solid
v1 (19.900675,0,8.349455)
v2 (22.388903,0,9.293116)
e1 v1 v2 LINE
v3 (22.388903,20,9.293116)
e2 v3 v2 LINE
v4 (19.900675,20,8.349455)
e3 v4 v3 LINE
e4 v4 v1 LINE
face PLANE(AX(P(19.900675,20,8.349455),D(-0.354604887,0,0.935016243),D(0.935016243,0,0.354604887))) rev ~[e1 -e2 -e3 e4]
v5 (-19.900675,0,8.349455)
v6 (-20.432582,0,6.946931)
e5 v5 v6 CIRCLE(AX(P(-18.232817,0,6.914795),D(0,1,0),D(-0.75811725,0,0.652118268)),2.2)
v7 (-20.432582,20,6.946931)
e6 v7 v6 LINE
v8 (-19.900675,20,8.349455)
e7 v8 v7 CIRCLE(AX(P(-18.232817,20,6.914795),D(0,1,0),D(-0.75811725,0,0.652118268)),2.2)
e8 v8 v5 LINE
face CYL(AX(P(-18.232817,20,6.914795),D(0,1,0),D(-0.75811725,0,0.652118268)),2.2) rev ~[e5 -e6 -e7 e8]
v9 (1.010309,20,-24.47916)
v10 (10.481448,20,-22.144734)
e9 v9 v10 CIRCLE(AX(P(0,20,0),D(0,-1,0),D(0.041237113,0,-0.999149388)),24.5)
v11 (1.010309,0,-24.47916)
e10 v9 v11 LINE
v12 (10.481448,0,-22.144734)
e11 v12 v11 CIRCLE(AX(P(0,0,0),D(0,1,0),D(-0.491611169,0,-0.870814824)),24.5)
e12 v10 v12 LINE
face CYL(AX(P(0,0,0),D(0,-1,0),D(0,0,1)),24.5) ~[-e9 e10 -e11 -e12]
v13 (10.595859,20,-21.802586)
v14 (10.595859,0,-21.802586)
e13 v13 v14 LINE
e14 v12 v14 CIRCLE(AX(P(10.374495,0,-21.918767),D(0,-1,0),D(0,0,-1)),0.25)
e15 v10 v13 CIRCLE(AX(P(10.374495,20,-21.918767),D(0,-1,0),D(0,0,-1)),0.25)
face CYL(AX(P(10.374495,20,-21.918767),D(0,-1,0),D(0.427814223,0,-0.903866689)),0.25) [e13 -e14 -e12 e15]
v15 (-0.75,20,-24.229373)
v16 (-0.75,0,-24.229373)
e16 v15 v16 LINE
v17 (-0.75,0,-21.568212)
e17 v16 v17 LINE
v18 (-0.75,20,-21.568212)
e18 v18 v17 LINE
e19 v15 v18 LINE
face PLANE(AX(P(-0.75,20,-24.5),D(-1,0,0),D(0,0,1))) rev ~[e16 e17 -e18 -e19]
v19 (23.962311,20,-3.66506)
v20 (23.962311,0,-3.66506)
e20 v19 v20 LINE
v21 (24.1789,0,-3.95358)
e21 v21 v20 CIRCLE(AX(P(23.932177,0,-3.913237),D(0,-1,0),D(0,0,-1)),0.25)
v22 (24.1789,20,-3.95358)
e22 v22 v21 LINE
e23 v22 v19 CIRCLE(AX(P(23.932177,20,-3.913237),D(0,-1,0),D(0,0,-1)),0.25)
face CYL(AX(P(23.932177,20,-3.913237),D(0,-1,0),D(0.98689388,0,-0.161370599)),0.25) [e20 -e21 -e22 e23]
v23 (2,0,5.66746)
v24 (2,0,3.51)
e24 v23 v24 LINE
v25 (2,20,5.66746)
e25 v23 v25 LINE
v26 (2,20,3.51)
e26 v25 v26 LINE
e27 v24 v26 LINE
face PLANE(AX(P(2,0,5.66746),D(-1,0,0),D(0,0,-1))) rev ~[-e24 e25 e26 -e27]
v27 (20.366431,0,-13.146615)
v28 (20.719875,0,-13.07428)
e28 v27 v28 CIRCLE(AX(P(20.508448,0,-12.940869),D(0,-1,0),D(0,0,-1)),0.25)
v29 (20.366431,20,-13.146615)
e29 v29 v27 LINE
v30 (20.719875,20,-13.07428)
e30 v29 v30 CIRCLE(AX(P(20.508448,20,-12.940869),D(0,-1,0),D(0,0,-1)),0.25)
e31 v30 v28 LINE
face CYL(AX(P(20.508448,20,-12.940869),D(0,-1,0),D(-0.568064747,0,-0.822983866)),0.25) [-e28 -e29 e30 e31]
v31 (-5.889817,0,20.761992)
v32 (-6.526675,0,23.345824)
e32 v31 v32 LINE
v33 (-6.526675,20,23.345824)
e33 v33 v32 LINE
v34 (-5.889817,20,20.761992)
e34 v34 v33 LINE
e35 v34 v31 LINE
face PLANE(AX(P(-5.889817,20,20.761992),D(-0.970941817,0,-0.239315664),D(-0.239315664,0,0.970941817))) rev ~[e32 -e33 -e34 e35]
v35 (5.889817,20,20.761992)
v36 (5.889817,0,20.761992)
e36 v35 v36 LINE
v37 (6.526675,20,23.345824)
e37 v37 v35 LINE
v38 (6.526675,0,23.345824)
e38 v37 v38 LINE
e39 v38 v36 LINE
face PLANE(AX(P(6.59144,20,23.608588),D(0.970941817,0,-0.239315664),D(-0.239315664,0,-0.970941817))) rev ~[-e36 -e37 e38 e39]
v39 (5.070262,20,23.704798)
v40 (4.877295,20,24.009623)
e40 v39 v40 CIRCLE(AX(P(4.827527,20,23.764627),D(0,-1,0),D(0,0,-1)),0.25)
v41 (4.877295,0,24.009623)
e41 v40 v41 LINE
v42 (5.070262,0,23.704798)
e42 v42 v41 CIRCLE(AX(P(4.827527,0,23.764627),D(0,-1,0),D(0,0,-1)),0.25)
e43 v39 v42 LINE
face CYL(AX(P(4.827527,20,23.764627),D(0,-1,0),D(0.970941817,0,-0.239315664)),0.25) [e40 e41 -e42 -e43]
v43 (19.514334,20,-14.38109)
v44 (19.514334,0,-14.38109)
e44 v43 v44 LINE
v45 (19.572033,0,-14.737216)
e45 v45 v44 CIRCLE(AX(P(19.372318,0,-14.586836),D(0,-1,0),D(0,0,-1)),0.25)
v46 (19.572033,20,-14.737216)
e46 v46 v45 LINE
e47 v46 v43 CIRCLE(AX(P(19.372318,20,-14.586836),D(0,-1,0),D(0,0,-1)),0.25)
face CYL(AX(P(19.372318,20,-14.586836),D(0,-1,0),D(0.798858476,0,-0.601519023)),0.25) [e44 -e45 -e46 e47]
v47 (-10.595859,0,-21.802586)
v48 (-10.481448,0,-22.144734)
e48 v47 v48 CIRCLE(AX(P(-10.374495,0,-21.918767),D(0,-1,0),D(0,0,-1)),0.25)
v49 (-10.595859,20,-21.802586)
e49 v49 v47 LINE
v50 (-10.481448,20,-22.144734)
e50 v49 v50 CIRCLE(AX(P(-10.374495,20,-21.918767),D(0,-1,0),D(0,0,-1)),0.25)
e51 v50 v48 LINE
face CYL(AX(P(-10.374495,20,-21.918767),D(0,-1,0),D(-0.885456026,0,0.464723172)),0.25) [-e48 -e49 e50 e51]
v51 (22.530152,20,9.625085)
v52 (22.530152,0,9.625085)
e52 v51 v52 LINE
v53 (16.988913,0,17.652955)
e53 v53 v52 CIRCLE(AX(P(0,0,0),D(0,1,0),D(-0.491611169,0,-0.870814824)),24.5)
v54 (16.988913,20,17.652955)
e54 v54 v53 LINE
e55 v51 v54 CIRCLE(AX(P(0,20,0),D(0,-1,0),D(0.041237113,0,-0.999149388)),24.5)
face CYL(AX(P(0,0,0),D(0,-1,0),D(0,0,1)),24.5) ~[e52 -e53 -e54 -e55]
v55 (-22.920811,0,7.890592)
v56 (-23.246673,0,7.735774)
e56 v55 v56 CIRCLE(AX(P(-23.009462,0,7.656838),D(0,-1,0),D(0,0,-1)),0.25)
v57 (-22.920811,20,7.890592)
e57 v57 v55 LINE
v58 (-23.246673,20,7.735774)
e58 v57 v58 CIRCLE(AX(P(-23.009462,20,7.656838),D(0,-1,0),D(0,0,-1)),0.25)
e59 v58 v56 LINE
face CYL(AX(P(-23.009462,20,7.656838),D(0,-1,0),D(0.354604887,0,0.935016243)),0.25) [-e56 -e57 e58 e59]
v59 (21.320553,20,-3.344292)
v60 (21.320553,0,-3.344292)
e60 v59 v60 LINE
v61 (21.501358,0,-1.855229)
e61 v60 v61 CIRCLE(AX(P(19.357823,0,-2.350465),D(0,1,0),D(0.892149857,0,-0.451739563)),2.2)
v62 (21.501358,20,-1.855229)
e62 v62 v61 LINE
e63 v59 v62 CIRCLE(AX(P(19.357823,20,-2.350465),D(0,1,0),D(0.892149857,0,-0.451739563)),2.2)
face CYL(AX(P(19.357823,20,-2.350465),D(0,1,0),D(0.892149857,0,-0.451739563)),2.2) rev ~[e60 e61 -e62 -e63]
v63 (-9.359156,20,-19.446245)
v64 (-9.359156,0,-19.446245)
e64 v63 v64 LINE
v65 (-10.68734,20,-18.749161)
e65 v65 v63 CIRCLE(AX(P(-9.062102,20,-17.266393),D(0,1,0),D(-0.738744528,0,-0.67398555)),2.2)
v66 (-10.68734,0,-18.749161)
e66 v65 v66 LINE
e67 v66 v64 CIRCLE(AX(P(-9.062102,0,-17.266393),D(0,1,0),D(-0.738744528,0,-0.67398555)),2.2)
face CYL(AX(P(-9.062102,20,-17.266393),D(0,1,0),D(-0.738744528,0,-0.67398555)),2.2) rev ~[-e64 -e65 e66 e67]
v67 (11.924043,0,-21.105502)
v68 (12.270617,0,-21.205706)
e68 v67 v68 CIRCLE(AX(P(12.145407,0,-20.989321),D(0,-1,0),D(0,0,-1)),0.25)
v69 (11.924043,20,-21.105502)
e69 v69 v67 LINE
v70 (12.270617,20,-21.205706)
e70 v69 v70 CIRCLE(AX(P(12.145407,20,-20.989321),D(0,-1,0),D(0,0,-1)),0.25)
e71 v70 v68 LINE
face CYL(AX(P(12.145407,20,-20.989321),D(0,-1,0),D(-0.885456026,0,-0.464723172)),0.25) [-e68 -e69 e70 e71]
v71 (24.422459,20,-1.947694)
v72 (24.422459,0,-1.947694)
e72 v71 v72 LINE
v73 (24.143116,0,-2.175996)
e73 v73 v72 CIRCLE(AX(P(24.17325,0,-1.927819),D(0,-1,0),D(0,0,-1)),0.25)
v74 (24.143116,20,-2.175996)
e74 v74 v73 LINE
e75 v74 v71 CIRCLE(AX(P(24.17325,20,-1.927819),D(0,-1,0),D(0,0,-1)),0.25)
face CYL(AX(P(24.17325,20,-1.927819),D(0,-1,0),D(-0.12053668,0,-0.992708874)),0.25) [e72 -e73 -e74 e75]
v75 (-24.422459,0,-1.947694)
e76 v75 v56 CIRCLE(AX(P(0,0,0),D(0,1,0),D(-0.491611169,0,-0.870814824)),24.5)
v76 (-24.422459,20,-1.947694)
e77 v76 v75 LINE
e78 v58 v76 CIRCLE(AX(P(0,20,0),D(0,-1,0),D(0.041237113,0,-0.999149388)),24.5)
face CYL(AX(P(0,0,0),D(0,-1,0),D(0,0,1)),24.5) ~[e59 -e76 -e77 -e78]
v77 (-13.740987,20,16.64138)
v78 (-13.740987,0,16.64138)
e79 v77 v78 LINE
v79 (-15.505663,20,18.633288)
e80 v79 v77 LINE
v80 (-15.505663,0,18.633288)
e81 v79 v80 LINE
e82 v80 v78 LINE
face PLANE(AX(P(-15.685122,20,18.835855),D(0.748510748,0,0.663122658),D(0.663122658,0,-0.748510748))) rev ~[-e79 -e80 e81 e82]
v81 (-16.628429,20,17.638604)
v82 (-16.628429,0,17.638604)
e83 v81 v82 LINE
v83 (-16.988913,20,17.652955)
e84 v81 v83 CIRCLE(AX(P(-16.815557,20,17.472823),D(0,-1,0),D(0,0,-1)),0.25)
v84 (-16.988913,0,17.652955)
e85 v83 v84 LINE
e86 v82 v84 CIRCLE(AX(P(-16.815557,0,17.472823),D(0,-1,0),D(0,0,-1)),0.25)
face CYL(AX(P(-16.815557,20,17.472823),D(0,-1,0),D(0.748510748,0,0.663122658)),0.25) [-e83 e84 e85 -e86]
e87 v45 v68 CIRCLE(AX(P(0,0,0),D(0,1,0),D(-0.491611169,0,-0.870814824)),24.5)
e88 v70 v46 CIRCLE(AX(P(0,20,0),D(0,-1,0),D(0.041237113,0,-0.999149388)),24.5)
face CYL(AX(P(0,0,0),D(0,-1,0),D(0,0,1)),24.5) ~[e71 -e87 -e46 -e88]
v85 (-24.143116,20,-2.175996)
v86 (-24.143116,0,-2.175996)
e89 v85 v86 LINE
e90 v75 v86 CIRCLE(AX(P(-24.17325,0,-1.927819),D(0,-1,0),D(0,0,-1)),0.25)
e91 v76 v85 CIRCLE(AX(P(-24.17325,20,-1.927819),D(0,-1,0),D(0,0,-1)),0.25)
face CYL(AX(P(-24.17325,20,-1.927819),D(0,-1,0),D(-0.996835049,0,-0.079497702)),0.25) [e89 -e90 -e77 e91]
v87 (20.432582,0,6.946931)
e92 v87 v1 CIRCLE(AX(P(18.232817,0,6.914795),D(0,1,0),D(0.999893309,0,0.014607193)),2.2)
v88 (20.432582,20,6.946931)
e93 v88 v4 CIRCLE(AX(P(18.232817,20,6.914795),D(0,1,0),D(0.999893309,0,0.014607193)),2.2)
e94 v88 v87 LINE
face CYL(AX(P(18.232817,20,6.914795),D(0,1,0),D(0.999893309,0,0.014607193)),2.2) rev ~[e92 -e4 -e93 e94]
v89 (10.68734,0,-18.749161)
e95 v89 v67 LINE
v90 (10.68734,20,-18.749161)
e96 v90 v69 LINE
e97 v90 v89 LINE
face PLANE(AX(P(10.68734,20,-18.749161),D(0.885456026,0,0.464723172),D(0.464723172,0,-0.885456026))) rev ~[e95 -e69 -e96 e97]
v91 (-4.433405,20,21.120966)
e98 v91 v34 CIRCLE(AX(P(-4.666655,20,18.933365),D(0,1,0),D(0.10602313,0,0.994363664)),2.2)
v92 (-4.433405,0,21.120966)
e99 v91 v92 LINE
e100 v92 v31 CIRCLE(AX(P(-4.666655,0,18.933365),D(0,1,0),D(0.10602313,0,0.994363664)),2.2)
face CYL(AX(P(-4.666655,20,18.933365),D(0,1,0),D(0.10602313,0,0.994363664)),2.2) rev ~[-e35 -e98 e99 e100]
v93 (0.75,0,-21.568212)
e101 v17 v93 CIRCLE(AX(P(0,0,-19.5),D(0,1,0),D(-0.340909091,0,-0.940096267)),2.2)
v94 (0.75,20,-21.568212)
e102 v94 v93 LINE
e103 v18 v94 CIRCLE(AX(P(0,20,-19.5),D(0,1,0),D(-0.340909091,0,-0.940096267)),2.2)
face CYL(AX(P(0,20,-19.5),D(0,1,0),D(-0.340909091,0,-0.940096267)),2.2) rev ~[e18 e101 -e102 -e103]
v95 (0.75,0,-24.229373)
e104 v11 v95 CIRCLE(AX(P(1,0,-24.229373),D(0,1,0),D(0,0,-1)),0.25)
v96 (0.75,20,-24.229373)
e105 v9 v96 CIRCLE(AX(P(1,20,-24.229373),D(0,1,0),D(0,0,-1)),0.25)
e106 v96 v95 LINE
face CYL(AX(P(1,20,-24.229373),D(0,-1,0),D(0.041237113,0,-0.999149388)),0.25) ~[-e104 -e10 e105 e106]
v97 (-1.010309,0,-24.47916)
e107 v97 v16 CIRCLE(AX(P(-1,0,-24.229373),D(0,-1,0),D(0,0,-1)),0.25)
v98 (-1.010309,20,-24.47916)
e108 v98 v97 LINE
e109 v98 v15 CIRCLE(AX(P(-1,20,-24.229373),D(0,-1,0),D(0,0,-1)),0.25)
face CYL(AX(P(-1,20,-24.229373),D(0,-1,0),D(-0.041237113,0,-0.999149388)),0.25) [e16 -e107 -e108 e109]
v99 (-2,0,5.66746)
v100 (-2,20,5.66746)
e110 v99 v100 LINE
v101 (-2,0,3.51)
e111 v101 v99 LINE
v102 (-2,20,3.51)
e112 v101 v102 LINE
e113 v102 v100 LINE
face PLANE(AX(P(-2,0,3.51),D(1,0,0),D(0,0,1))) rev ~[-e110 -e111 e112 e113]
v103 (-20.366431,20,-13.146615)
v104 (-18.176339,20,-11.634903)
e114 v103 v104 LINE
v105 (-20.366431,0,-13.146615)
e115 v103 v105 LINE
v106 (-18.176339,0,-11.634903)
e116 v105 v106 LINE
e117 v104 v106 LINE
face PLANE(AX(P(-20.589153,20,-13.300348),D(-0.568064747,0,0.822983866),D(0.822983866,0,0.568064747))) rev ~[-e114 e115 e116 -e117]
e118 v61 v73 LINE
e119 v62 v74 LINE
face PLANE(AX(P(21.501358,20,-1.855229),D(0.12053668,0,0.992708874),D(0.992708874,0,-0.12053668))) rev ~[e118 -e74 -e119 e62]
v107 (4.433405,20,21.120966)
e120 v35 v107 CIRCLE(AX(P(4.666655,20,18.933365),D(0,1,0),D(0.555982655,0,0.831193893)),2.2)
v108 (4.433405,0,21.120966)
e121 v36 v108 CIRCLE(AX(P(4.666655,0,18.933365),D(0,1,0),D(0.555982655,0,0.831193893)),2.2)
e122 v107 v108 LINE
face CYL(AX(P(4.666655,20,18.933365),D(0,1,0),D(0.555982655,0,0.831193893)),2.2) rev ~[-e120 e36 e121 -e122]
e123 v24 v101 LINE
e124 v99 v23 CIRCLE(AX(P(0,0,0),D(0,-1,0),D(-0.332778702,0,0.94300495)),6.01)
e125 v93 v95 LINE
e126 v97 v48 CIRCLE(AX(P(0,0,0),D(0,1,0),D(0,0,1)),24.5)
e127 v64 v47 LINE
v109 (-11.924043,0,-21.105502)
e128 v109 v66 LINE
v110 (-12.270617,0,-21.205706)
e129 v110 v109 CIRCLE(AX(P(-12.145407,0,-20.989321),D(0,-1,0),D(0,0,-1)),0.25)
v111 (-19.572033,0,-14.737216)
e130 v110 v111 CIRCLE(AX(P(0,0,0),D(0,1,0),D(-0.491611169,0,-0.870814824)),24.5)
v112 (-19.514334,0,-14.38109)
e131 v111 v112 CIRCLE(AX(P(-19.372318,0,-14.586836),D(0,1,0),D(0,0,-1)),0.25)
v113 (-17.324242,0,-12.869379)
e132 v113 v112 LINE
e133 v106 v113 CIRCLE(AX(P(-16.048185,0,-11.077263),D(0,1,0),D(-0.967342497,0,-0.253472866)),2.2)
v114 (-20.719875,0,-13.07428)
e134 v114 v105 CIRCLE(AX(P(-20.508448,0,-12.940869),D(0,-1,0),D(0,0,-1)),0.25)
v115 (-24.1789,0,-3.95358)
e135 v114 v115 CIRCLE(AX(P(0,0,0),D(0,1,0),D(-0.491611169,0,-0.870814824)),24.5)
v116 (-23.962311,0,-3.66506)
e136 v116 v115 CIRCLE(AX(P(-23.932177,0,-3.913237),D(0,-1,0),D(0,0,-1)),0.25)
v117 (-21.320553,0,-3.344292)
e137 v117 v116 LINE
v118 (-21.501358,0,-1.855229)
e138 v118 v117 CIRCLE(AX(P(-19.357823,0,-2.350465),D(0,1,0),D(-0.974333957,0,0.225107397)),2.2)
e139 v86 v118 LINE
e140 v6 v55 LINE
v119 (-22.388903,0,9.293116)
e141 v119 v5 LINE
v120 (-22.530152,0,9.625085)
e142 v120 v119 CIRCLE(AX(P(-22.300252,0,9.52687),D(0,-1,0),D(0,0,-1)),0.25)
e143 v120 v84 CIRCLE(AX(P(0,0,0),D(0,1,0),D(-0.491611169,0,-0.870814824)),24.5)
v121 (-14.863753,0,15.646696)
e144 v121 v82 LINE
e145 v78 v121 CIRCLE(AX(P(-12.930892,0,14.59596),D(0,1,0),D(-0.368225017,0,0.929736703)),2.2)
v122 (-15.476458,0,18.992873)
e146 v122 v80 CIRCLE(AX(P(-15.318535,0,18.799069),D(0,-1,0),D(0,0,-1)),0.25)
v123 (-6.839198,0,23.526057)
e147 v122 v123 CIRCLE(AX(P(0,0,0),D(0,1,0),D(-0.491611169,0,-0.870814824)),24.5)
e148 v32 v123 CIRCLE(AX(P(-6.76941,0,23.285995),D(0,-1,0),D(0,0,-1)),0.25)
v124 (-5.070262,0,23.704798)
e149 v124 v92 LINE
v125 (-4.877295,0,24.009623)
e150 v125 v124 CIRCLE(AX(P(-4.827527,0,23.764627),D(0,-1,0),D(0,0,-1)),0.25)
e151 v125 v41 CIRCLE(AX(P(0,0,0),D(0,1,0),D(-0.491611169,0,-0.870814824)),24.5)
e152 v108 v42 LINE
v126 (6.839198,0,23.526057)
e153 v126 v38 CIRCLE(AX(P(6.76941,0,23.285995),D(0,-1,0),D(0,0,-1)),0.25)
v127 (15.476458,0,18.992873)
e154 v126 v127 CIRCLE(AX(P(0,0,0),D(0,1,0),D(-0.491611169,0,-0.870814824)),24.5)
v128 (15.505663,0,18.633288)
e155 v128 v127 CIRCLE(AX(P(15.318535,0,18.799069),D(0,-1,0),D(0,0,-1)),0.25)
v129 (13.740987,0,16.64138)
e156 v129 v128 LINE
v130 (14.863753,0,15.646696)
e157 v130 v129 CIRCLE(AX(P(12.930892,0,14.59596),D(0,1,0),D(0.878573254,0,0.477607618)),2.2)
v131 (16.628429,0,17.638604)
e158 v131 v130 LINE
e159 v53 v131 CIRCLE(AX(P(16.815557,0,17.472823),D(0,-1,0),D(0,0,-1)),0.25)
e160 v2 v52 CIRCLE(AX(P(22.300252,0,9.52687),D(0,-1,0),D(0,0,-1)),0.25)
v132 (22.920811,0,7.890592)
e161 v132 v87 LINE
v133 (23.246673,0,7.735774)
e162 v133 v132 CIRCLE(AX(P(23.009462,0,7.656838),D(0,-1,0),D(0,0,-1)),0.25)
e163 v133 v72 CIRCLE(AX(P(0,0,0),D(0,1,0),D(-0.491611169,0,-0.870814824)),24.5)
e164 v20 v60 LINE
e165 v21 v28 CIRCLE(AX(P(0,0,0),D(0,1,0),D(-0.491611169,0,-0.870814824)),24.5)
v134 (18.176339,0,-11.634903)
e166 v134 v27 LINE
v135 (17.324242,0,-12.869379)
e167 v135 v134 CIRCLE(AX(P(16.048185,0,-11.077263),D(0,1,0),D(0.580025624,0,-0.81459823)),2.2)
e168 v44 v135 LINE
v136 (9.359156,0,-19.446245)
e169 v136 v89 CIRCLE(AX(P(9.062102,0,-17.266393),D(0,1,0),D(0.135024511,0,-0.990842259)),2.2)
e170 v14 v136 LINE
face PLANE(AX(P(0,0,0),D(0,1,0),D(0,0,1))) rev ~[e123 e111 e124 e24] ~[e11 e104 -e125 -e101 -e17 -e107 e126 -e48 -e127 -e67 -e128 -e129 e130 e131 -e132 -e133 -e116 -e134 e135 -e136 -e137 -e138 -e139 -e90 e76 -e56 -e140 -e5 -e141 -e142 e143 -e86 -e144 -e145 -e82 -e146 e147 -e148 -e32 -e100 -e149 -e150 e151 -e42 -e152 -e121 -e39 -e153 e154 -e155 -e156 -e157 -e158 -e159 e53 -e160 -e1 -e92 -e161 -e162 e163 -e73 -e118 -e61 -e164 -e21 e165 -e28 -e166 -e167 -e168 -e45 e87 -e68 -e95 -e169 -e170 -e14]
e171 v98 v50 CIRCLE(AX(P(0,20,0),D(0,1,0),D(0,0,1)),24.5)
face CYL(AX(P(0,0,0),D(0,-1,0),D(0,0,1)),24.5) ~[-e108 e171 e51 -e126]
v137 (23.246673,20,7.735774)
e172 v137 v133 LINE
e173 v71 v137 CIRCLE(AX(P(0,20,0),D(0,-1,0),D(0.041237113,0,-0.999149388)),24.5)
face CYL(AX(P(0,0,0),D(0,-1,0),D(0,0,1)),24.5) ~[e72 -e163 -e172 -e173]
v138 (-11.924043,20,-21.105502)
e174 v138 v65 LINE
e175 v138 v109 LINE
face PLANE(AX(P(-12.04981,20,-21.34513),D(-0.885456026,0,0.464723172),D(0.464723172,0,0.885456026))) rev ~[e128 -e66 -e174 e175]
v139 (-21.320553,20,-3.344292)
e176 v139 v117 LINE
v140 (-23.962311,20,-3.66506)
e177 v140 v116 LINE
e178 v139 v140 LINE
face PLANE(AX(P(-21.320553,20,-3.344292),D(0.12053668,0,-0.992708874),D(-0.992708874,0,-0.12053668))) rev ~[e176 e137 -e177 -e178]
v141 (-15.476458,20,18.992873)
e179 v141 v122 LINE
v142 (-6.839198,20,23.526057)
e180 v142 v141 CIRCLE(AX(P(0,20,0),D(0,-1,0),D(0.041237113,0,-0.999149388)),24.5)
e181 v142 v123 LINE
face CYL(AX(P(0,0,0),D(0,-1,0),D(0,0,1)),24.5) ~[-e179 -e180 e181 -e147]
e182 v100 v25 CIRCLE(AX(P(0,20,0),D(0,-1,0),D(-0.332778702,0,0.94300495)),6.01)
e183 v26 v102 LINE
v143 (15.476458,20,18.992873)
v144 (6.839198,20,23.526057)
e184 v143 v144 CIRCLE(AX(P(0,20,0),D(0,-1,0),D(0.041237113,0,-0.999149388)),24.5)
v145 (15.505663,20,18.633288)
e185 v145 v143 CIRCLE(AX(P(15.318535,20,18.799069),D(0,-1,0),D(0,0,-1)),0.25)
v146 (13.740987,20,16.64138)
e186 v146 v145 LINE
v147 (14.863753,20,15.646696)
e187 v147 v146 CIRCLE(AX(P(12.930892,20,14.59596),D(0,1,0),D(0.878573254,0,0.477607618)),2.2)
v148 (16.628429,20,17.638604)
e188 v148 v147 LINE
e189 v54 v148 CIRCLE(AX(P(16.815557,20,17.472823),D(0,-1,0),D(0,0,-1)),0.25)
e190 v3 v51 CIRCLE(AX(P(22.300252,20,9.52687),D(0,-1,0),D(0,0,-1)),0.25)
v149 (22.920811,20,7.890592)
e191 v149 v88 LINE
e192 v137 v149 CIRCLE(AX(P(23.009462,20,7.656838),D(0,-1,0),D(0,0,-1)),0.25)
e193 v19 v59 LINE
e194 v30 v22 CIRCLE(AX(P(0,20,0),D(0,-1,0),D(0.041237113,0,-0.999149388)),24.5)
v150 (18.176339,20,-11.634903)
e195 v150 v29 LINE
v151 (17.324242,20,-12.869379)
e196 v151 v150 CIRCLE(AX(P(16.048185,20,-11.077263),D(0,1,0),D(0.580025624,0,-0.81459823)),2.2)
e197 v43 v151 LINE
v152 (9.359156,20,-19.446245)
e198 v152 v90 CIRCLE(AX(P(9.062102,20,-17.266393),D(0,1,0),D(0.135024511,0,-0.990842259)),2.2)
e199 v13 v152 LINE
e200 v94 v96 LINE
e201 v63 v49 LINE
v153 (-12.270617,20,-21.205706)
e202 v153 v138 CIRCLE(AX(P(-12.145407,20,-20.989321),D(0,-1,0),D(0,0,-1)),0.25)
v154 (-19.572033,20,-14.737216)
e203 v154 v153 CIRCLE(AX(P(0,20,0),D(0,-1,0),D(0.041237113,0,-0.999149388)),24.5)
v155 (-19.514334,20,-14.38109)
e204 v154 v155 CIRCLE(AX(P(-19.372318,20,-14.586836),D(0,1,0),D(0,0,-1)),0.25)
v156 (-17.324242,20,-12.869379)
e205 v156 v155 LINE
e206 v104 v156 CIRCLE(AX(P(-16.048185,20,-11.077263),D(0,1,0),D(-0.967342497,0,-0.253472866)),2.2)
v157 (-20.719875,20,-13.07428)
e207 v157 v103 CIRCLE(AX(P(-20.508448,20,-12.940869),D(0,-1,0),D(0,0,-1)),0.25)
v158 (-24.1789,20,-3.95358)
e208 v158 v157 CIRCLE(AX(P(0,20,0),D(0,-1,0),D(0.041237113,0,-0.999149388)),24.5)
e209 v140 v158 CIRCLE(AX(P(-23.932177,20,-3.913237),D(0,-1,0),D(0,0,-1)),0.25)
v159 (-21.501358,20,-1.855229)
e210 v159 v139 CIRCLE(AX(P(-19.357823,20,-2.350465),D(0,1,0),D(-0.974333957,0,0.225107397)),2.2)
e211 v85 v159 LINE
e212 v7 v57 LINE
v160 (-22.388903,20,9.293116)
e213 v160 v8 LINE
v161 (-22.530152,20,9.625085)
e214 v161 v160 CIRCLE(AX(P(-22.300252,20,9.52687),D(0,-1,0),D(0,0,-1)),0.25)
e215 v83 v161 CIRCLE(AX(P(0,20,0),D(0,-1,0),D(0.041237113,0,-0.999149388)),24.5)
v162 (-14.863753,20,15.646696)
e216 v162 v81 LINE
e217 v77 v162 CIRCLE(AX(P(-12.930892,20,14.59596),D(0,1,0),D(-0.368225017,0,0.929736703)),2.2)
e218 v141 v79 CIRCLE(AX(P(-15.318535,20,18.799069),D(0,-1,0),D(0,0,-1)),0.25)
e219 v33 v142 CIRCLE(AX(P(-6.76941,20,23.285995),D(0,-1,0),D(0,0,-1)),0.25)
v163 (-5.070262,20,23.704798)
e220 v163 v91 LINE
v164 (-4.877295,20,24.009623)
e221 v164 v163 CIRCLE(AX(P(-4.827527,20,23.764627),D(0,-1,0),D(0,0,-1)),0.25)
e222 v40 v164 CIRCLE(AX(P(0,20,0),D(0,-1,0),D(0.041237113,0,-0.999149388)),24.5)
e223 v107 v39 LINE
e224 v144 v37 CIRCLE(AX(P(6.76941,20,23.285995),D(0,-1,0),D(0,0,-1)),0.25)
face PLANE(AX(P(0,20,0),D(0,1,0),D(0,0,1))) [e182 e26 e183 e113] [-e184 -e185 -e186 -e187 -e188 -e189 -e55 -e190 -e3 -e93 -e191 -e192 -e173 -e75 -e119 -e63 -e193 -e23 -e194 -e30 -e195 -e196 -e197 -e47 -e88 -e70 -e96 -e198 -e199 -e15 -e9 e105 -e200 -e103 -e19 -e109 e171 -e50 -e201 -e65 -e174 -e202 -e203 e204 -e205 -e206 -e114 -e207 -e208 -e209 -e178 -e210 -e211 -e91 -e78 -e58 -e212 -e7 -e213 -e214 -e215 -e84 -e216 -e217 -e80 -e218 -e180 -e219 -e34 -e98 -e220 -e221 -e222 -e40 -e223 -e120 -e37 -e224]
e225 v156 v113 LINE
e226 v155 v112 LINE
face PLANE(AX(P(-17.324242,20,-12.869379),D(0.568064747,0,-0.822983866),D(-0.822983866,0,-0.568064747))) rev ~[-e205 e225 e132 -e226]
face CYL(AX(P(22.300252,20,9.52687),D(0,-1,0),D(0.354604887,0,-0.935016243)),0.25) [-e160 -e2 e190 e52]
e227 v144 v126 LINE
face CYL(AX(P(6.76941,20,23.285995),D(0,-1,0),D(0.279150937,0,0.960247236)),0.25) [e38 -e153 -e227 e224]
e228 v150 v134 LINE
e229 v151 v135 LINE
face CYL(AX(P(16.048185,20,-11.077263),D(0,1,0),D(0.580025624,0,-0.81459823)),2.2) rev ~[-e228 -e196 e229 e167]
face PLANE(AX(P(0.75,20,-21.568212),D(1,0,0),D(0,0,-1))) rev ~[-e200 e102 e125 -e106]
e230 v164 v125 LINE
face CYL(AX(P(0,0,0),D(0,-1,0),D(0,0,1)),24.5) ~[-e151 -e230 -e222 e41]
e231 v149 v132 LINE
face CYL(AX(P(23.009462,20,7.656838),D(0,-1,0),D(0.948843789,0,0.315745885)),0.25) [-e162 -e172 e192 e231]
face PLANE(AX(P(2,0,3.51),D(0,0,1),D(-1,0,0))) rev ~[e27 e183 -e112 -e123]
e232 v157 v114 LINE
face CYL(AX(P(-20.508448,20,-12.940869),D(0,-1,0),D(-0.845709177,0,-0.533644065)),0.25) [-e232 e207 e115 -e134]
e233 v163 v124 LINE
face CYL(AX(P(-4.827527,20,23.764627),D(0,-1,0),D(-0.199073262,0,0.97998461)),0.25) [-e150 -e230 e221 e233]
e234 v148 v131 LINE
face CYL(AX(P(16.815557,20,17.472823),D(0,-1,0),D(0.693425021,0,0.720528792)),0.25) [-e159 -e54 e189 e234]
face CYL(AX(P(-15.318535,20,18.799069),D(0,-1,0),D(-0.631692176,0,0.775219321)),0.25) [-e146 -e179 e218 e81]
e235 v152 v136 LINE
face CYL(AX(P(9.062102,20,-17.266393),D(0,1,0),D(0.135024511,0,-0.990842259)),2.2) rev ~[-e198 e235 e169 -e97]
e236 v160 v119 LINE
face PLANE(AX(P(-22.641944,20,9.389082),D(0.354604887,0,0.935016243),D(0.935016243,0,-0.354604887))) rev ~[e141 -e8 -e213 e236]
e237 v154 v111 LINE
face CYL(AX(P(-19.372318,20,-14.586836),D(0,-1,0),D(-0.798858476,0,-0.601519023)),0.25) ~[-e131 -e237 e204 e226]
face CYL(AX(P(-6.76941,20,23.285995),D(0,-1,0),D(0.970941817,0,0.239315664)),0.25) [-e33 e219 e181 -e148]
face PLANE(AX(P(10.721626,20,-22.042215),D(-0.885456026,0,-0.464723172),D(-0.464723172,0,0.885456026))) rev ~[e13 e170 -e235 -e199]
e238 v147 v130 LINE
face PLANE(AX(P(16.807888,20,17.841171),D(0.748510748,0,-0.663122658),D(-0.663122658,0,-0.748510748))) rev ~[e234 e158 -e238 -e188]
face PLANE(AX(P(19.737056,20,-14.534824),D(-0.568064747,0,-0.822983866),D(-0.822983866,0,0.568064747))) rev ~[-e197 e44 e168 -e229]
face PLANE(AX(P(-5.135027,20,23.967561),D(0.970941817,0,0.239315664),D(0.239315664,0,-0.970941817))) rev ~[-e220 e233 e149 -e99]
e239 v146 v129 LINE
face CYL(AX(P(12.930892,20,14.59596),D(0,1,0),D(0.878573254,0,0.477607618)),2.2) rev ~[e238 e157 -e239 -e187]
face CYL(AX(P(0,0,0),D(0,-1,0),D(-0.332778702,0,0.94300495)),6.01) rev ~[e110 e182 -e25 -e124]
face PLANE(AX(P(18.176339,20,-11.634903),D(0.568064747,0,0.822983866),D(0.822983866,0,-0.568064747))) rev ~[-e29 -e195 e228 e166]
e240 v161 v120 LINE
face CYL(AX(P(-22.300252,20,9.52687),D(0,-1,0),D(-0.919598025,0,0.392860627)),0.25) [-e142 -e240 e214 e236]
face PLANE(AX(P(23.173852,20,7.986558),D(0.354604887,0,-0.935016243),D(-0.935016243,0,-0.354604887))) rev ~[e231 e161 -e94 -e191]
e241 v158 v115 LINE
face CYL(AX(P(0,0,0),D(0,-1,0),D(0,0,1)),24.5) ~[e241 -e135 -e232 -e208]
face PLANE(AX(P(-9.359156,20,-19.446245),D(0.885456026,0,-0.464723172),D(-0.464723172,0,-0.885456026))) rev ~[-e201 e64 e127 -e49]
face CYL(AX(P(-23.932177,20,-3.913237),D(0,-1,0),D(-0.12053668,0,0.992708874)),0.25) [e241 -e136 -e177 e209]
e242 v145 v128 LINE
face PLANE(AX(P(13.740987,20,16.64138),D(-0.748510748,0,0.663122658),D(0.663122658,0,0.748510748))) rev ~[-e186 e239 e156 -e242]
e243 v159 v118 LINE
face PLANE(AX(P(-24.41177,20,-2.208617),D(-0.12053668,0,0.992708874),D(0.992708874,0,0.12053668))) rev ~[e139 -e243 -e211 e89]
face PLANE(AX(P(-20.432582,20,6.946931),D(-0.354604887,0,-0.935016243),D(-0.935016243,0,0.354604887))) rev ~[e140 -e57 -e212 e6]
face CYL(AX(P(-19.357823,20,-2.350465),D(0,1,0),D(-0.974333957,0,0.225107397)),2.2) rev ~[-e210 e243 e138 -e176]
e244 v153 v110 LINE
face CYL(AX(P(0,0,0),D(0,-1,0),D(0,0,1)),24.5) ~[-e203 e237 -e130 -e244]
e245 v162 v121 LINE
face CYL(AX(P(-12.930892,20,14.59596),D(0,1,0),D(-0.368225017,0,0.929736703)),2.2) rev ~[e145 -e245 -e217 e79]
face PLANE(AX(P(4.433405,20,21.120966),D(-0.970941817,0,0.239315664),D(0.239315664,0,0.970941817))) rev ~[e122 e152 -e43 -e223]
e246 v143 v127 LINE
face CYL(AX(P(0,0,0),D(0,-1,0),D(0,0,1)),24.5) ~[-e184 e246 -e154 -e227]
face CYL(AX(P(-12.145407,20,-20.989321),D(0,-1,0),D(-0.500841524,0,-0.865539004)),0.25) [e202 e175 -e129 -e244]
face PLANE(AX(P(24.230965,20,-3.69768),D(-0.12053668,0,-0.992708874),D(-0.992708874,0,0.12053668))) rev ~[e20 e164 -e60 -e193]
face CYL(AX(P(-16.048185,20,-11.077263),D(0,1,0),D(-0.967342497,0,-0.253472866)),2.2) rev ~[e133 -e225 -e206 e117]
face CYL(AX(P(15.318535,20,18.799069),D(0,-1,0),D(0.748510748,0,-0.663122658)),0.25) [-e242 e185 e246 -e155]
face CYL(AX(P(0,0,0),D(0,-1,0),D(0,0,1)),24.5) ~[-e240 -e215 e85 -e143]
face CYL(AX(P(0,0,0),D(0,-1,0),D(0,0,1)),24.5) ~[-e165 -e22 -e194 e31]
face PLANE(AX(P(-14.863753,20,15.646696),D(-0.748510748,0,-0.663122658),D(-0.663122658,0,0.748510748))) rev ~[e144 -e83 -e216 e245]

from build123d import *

# Parameters (mm, degrees)
SKETCH1_R                = 24.5
BOSS_EXTRUDE1_DEPTH      = 20
CUT_EXTRUDE1_DEPTH       = 41.006249512
FILLET1_R                = 0.25
CIRPATTERN1_COUNT        = 13
FILLET1_OF_CIRPATTERN1_R = 0.25


with BuildPart() as part:
    # Sketch1 → Boss-Extrude1 (new body)
    with BuildSketch(Plane(origin=(0, 0, 0), x_dir=(1, 0, 0), z_dir=(0, 1, 0))):
        with Locations(Location((0, 0, 0), (0, 0, 270))):
            Circle(SKETCH1_R)
        with BuildLine():
            Line((2, -5.667459748), (2, -3.51))
            Line((2, -3.51), (-2, -3.51))
            Line((-2, -3.51), (-2, -5.667459748))
            ThreePointArc((-2, -5.667459748), (0, 6.01), (2, -5.667459748))
        make_face(mode=Mode.SUBTRACT)
    extrude(amount=BOSS_EXTRUDE1_DEPTH)

    # Sketch3 → Cut-Extrude1 (cut, through all)
    with BuildSketch(Plane(origin=(0, 20, 0), x_dir=(1, 0, 0), z_dir=(0, 1, 0))):
        with BuildLine():
            Line((0.75, 21.568211788), (0.75, 24.5))
            Line((0.75, 24.5), (-0.75, 24.5))
            Line((-0.75, 24.5), (-0.75, 21.568211788))
            ThreePointArc((-0.75, 21.568211788), (0, 17.3), (0.75, 21.568211788))
        make_face()
    cut_extrude1 = extrude(amount=-CUT_EXTRUDE1_DEPTH, mode=Mode.SUBTRACT)

    # Fillet1
    fillet1_edges = [part.edges().sort_by_distance(p)[0] for p in [
        (0.75, 10, -24.488517717),
        (-0.75, 10, -24.488517717),
    ]]
    fillet(fillet1_edges, radius=FILLET1_R)

    # CirPattern1: Cut-Extrude1 ×13 about axis
    cirpattern1_axis = Axis((0, 0, 0), (0, 1, 0))
    for i in range(1, CIRPATTERN1_COUNT):
        add(cut_extrude1.rotate(cirpattern1_axis, i * 360 / CIRPATTERN1_COUNT), mode=Mode.SUBTRACT)

    # Fillet1 of CirPattern1
    fillet1_of_cirpattern1_edges = [part.edges().sort_by_distance(p)[0] for p in [
        (-10.716289613, 10, -22.032047951),
        (-12.044473652, 10, -21.334963193),
        (-19.727606421, 10, -14.528301514),
        (-20.579703541, 10, -13.293825716),
        (-24.219566341, 10, -3.696296286),
        (-24.400371362, 10, -2.207232974),
        (-23.16311549, 10, 7.982485877),
        (-22.63120816, 10, 9.385010241),
        (-16.800274026, 10, 17.832576725),
        (-15.677507904, 10, 18.827260712),
        (-6.588692248, 10, 23.59743915),
        (-5.132279522, 10, 23.956412647),
        (5.132279522, 10, 23.956412647),
        (6.588692248, 10, 23.59743915),
        (15.677507904, 10, 18.827260712),
        (16.800274026, 10, 17.832576725),
        (22.63120816, 10, 9.385010241),
        (23.16311549, 10, 7.982485877),
        (24.400371362, 10, -2.207232974),
        (24.219566341, 10, -3.696296286),
        (20.579703541, 10, -13.293825716),
        (19.727606421, 10, -14.528301514),
        (12.044473652, 10, -21.334963193),
        (10.716289613, 10, -22.032047951),
    ]]
    fillet(fillet1_of_cirpattern1_edges, radius=FILLET1_OF_CIRPATTERN1_R)


solid = part.part
